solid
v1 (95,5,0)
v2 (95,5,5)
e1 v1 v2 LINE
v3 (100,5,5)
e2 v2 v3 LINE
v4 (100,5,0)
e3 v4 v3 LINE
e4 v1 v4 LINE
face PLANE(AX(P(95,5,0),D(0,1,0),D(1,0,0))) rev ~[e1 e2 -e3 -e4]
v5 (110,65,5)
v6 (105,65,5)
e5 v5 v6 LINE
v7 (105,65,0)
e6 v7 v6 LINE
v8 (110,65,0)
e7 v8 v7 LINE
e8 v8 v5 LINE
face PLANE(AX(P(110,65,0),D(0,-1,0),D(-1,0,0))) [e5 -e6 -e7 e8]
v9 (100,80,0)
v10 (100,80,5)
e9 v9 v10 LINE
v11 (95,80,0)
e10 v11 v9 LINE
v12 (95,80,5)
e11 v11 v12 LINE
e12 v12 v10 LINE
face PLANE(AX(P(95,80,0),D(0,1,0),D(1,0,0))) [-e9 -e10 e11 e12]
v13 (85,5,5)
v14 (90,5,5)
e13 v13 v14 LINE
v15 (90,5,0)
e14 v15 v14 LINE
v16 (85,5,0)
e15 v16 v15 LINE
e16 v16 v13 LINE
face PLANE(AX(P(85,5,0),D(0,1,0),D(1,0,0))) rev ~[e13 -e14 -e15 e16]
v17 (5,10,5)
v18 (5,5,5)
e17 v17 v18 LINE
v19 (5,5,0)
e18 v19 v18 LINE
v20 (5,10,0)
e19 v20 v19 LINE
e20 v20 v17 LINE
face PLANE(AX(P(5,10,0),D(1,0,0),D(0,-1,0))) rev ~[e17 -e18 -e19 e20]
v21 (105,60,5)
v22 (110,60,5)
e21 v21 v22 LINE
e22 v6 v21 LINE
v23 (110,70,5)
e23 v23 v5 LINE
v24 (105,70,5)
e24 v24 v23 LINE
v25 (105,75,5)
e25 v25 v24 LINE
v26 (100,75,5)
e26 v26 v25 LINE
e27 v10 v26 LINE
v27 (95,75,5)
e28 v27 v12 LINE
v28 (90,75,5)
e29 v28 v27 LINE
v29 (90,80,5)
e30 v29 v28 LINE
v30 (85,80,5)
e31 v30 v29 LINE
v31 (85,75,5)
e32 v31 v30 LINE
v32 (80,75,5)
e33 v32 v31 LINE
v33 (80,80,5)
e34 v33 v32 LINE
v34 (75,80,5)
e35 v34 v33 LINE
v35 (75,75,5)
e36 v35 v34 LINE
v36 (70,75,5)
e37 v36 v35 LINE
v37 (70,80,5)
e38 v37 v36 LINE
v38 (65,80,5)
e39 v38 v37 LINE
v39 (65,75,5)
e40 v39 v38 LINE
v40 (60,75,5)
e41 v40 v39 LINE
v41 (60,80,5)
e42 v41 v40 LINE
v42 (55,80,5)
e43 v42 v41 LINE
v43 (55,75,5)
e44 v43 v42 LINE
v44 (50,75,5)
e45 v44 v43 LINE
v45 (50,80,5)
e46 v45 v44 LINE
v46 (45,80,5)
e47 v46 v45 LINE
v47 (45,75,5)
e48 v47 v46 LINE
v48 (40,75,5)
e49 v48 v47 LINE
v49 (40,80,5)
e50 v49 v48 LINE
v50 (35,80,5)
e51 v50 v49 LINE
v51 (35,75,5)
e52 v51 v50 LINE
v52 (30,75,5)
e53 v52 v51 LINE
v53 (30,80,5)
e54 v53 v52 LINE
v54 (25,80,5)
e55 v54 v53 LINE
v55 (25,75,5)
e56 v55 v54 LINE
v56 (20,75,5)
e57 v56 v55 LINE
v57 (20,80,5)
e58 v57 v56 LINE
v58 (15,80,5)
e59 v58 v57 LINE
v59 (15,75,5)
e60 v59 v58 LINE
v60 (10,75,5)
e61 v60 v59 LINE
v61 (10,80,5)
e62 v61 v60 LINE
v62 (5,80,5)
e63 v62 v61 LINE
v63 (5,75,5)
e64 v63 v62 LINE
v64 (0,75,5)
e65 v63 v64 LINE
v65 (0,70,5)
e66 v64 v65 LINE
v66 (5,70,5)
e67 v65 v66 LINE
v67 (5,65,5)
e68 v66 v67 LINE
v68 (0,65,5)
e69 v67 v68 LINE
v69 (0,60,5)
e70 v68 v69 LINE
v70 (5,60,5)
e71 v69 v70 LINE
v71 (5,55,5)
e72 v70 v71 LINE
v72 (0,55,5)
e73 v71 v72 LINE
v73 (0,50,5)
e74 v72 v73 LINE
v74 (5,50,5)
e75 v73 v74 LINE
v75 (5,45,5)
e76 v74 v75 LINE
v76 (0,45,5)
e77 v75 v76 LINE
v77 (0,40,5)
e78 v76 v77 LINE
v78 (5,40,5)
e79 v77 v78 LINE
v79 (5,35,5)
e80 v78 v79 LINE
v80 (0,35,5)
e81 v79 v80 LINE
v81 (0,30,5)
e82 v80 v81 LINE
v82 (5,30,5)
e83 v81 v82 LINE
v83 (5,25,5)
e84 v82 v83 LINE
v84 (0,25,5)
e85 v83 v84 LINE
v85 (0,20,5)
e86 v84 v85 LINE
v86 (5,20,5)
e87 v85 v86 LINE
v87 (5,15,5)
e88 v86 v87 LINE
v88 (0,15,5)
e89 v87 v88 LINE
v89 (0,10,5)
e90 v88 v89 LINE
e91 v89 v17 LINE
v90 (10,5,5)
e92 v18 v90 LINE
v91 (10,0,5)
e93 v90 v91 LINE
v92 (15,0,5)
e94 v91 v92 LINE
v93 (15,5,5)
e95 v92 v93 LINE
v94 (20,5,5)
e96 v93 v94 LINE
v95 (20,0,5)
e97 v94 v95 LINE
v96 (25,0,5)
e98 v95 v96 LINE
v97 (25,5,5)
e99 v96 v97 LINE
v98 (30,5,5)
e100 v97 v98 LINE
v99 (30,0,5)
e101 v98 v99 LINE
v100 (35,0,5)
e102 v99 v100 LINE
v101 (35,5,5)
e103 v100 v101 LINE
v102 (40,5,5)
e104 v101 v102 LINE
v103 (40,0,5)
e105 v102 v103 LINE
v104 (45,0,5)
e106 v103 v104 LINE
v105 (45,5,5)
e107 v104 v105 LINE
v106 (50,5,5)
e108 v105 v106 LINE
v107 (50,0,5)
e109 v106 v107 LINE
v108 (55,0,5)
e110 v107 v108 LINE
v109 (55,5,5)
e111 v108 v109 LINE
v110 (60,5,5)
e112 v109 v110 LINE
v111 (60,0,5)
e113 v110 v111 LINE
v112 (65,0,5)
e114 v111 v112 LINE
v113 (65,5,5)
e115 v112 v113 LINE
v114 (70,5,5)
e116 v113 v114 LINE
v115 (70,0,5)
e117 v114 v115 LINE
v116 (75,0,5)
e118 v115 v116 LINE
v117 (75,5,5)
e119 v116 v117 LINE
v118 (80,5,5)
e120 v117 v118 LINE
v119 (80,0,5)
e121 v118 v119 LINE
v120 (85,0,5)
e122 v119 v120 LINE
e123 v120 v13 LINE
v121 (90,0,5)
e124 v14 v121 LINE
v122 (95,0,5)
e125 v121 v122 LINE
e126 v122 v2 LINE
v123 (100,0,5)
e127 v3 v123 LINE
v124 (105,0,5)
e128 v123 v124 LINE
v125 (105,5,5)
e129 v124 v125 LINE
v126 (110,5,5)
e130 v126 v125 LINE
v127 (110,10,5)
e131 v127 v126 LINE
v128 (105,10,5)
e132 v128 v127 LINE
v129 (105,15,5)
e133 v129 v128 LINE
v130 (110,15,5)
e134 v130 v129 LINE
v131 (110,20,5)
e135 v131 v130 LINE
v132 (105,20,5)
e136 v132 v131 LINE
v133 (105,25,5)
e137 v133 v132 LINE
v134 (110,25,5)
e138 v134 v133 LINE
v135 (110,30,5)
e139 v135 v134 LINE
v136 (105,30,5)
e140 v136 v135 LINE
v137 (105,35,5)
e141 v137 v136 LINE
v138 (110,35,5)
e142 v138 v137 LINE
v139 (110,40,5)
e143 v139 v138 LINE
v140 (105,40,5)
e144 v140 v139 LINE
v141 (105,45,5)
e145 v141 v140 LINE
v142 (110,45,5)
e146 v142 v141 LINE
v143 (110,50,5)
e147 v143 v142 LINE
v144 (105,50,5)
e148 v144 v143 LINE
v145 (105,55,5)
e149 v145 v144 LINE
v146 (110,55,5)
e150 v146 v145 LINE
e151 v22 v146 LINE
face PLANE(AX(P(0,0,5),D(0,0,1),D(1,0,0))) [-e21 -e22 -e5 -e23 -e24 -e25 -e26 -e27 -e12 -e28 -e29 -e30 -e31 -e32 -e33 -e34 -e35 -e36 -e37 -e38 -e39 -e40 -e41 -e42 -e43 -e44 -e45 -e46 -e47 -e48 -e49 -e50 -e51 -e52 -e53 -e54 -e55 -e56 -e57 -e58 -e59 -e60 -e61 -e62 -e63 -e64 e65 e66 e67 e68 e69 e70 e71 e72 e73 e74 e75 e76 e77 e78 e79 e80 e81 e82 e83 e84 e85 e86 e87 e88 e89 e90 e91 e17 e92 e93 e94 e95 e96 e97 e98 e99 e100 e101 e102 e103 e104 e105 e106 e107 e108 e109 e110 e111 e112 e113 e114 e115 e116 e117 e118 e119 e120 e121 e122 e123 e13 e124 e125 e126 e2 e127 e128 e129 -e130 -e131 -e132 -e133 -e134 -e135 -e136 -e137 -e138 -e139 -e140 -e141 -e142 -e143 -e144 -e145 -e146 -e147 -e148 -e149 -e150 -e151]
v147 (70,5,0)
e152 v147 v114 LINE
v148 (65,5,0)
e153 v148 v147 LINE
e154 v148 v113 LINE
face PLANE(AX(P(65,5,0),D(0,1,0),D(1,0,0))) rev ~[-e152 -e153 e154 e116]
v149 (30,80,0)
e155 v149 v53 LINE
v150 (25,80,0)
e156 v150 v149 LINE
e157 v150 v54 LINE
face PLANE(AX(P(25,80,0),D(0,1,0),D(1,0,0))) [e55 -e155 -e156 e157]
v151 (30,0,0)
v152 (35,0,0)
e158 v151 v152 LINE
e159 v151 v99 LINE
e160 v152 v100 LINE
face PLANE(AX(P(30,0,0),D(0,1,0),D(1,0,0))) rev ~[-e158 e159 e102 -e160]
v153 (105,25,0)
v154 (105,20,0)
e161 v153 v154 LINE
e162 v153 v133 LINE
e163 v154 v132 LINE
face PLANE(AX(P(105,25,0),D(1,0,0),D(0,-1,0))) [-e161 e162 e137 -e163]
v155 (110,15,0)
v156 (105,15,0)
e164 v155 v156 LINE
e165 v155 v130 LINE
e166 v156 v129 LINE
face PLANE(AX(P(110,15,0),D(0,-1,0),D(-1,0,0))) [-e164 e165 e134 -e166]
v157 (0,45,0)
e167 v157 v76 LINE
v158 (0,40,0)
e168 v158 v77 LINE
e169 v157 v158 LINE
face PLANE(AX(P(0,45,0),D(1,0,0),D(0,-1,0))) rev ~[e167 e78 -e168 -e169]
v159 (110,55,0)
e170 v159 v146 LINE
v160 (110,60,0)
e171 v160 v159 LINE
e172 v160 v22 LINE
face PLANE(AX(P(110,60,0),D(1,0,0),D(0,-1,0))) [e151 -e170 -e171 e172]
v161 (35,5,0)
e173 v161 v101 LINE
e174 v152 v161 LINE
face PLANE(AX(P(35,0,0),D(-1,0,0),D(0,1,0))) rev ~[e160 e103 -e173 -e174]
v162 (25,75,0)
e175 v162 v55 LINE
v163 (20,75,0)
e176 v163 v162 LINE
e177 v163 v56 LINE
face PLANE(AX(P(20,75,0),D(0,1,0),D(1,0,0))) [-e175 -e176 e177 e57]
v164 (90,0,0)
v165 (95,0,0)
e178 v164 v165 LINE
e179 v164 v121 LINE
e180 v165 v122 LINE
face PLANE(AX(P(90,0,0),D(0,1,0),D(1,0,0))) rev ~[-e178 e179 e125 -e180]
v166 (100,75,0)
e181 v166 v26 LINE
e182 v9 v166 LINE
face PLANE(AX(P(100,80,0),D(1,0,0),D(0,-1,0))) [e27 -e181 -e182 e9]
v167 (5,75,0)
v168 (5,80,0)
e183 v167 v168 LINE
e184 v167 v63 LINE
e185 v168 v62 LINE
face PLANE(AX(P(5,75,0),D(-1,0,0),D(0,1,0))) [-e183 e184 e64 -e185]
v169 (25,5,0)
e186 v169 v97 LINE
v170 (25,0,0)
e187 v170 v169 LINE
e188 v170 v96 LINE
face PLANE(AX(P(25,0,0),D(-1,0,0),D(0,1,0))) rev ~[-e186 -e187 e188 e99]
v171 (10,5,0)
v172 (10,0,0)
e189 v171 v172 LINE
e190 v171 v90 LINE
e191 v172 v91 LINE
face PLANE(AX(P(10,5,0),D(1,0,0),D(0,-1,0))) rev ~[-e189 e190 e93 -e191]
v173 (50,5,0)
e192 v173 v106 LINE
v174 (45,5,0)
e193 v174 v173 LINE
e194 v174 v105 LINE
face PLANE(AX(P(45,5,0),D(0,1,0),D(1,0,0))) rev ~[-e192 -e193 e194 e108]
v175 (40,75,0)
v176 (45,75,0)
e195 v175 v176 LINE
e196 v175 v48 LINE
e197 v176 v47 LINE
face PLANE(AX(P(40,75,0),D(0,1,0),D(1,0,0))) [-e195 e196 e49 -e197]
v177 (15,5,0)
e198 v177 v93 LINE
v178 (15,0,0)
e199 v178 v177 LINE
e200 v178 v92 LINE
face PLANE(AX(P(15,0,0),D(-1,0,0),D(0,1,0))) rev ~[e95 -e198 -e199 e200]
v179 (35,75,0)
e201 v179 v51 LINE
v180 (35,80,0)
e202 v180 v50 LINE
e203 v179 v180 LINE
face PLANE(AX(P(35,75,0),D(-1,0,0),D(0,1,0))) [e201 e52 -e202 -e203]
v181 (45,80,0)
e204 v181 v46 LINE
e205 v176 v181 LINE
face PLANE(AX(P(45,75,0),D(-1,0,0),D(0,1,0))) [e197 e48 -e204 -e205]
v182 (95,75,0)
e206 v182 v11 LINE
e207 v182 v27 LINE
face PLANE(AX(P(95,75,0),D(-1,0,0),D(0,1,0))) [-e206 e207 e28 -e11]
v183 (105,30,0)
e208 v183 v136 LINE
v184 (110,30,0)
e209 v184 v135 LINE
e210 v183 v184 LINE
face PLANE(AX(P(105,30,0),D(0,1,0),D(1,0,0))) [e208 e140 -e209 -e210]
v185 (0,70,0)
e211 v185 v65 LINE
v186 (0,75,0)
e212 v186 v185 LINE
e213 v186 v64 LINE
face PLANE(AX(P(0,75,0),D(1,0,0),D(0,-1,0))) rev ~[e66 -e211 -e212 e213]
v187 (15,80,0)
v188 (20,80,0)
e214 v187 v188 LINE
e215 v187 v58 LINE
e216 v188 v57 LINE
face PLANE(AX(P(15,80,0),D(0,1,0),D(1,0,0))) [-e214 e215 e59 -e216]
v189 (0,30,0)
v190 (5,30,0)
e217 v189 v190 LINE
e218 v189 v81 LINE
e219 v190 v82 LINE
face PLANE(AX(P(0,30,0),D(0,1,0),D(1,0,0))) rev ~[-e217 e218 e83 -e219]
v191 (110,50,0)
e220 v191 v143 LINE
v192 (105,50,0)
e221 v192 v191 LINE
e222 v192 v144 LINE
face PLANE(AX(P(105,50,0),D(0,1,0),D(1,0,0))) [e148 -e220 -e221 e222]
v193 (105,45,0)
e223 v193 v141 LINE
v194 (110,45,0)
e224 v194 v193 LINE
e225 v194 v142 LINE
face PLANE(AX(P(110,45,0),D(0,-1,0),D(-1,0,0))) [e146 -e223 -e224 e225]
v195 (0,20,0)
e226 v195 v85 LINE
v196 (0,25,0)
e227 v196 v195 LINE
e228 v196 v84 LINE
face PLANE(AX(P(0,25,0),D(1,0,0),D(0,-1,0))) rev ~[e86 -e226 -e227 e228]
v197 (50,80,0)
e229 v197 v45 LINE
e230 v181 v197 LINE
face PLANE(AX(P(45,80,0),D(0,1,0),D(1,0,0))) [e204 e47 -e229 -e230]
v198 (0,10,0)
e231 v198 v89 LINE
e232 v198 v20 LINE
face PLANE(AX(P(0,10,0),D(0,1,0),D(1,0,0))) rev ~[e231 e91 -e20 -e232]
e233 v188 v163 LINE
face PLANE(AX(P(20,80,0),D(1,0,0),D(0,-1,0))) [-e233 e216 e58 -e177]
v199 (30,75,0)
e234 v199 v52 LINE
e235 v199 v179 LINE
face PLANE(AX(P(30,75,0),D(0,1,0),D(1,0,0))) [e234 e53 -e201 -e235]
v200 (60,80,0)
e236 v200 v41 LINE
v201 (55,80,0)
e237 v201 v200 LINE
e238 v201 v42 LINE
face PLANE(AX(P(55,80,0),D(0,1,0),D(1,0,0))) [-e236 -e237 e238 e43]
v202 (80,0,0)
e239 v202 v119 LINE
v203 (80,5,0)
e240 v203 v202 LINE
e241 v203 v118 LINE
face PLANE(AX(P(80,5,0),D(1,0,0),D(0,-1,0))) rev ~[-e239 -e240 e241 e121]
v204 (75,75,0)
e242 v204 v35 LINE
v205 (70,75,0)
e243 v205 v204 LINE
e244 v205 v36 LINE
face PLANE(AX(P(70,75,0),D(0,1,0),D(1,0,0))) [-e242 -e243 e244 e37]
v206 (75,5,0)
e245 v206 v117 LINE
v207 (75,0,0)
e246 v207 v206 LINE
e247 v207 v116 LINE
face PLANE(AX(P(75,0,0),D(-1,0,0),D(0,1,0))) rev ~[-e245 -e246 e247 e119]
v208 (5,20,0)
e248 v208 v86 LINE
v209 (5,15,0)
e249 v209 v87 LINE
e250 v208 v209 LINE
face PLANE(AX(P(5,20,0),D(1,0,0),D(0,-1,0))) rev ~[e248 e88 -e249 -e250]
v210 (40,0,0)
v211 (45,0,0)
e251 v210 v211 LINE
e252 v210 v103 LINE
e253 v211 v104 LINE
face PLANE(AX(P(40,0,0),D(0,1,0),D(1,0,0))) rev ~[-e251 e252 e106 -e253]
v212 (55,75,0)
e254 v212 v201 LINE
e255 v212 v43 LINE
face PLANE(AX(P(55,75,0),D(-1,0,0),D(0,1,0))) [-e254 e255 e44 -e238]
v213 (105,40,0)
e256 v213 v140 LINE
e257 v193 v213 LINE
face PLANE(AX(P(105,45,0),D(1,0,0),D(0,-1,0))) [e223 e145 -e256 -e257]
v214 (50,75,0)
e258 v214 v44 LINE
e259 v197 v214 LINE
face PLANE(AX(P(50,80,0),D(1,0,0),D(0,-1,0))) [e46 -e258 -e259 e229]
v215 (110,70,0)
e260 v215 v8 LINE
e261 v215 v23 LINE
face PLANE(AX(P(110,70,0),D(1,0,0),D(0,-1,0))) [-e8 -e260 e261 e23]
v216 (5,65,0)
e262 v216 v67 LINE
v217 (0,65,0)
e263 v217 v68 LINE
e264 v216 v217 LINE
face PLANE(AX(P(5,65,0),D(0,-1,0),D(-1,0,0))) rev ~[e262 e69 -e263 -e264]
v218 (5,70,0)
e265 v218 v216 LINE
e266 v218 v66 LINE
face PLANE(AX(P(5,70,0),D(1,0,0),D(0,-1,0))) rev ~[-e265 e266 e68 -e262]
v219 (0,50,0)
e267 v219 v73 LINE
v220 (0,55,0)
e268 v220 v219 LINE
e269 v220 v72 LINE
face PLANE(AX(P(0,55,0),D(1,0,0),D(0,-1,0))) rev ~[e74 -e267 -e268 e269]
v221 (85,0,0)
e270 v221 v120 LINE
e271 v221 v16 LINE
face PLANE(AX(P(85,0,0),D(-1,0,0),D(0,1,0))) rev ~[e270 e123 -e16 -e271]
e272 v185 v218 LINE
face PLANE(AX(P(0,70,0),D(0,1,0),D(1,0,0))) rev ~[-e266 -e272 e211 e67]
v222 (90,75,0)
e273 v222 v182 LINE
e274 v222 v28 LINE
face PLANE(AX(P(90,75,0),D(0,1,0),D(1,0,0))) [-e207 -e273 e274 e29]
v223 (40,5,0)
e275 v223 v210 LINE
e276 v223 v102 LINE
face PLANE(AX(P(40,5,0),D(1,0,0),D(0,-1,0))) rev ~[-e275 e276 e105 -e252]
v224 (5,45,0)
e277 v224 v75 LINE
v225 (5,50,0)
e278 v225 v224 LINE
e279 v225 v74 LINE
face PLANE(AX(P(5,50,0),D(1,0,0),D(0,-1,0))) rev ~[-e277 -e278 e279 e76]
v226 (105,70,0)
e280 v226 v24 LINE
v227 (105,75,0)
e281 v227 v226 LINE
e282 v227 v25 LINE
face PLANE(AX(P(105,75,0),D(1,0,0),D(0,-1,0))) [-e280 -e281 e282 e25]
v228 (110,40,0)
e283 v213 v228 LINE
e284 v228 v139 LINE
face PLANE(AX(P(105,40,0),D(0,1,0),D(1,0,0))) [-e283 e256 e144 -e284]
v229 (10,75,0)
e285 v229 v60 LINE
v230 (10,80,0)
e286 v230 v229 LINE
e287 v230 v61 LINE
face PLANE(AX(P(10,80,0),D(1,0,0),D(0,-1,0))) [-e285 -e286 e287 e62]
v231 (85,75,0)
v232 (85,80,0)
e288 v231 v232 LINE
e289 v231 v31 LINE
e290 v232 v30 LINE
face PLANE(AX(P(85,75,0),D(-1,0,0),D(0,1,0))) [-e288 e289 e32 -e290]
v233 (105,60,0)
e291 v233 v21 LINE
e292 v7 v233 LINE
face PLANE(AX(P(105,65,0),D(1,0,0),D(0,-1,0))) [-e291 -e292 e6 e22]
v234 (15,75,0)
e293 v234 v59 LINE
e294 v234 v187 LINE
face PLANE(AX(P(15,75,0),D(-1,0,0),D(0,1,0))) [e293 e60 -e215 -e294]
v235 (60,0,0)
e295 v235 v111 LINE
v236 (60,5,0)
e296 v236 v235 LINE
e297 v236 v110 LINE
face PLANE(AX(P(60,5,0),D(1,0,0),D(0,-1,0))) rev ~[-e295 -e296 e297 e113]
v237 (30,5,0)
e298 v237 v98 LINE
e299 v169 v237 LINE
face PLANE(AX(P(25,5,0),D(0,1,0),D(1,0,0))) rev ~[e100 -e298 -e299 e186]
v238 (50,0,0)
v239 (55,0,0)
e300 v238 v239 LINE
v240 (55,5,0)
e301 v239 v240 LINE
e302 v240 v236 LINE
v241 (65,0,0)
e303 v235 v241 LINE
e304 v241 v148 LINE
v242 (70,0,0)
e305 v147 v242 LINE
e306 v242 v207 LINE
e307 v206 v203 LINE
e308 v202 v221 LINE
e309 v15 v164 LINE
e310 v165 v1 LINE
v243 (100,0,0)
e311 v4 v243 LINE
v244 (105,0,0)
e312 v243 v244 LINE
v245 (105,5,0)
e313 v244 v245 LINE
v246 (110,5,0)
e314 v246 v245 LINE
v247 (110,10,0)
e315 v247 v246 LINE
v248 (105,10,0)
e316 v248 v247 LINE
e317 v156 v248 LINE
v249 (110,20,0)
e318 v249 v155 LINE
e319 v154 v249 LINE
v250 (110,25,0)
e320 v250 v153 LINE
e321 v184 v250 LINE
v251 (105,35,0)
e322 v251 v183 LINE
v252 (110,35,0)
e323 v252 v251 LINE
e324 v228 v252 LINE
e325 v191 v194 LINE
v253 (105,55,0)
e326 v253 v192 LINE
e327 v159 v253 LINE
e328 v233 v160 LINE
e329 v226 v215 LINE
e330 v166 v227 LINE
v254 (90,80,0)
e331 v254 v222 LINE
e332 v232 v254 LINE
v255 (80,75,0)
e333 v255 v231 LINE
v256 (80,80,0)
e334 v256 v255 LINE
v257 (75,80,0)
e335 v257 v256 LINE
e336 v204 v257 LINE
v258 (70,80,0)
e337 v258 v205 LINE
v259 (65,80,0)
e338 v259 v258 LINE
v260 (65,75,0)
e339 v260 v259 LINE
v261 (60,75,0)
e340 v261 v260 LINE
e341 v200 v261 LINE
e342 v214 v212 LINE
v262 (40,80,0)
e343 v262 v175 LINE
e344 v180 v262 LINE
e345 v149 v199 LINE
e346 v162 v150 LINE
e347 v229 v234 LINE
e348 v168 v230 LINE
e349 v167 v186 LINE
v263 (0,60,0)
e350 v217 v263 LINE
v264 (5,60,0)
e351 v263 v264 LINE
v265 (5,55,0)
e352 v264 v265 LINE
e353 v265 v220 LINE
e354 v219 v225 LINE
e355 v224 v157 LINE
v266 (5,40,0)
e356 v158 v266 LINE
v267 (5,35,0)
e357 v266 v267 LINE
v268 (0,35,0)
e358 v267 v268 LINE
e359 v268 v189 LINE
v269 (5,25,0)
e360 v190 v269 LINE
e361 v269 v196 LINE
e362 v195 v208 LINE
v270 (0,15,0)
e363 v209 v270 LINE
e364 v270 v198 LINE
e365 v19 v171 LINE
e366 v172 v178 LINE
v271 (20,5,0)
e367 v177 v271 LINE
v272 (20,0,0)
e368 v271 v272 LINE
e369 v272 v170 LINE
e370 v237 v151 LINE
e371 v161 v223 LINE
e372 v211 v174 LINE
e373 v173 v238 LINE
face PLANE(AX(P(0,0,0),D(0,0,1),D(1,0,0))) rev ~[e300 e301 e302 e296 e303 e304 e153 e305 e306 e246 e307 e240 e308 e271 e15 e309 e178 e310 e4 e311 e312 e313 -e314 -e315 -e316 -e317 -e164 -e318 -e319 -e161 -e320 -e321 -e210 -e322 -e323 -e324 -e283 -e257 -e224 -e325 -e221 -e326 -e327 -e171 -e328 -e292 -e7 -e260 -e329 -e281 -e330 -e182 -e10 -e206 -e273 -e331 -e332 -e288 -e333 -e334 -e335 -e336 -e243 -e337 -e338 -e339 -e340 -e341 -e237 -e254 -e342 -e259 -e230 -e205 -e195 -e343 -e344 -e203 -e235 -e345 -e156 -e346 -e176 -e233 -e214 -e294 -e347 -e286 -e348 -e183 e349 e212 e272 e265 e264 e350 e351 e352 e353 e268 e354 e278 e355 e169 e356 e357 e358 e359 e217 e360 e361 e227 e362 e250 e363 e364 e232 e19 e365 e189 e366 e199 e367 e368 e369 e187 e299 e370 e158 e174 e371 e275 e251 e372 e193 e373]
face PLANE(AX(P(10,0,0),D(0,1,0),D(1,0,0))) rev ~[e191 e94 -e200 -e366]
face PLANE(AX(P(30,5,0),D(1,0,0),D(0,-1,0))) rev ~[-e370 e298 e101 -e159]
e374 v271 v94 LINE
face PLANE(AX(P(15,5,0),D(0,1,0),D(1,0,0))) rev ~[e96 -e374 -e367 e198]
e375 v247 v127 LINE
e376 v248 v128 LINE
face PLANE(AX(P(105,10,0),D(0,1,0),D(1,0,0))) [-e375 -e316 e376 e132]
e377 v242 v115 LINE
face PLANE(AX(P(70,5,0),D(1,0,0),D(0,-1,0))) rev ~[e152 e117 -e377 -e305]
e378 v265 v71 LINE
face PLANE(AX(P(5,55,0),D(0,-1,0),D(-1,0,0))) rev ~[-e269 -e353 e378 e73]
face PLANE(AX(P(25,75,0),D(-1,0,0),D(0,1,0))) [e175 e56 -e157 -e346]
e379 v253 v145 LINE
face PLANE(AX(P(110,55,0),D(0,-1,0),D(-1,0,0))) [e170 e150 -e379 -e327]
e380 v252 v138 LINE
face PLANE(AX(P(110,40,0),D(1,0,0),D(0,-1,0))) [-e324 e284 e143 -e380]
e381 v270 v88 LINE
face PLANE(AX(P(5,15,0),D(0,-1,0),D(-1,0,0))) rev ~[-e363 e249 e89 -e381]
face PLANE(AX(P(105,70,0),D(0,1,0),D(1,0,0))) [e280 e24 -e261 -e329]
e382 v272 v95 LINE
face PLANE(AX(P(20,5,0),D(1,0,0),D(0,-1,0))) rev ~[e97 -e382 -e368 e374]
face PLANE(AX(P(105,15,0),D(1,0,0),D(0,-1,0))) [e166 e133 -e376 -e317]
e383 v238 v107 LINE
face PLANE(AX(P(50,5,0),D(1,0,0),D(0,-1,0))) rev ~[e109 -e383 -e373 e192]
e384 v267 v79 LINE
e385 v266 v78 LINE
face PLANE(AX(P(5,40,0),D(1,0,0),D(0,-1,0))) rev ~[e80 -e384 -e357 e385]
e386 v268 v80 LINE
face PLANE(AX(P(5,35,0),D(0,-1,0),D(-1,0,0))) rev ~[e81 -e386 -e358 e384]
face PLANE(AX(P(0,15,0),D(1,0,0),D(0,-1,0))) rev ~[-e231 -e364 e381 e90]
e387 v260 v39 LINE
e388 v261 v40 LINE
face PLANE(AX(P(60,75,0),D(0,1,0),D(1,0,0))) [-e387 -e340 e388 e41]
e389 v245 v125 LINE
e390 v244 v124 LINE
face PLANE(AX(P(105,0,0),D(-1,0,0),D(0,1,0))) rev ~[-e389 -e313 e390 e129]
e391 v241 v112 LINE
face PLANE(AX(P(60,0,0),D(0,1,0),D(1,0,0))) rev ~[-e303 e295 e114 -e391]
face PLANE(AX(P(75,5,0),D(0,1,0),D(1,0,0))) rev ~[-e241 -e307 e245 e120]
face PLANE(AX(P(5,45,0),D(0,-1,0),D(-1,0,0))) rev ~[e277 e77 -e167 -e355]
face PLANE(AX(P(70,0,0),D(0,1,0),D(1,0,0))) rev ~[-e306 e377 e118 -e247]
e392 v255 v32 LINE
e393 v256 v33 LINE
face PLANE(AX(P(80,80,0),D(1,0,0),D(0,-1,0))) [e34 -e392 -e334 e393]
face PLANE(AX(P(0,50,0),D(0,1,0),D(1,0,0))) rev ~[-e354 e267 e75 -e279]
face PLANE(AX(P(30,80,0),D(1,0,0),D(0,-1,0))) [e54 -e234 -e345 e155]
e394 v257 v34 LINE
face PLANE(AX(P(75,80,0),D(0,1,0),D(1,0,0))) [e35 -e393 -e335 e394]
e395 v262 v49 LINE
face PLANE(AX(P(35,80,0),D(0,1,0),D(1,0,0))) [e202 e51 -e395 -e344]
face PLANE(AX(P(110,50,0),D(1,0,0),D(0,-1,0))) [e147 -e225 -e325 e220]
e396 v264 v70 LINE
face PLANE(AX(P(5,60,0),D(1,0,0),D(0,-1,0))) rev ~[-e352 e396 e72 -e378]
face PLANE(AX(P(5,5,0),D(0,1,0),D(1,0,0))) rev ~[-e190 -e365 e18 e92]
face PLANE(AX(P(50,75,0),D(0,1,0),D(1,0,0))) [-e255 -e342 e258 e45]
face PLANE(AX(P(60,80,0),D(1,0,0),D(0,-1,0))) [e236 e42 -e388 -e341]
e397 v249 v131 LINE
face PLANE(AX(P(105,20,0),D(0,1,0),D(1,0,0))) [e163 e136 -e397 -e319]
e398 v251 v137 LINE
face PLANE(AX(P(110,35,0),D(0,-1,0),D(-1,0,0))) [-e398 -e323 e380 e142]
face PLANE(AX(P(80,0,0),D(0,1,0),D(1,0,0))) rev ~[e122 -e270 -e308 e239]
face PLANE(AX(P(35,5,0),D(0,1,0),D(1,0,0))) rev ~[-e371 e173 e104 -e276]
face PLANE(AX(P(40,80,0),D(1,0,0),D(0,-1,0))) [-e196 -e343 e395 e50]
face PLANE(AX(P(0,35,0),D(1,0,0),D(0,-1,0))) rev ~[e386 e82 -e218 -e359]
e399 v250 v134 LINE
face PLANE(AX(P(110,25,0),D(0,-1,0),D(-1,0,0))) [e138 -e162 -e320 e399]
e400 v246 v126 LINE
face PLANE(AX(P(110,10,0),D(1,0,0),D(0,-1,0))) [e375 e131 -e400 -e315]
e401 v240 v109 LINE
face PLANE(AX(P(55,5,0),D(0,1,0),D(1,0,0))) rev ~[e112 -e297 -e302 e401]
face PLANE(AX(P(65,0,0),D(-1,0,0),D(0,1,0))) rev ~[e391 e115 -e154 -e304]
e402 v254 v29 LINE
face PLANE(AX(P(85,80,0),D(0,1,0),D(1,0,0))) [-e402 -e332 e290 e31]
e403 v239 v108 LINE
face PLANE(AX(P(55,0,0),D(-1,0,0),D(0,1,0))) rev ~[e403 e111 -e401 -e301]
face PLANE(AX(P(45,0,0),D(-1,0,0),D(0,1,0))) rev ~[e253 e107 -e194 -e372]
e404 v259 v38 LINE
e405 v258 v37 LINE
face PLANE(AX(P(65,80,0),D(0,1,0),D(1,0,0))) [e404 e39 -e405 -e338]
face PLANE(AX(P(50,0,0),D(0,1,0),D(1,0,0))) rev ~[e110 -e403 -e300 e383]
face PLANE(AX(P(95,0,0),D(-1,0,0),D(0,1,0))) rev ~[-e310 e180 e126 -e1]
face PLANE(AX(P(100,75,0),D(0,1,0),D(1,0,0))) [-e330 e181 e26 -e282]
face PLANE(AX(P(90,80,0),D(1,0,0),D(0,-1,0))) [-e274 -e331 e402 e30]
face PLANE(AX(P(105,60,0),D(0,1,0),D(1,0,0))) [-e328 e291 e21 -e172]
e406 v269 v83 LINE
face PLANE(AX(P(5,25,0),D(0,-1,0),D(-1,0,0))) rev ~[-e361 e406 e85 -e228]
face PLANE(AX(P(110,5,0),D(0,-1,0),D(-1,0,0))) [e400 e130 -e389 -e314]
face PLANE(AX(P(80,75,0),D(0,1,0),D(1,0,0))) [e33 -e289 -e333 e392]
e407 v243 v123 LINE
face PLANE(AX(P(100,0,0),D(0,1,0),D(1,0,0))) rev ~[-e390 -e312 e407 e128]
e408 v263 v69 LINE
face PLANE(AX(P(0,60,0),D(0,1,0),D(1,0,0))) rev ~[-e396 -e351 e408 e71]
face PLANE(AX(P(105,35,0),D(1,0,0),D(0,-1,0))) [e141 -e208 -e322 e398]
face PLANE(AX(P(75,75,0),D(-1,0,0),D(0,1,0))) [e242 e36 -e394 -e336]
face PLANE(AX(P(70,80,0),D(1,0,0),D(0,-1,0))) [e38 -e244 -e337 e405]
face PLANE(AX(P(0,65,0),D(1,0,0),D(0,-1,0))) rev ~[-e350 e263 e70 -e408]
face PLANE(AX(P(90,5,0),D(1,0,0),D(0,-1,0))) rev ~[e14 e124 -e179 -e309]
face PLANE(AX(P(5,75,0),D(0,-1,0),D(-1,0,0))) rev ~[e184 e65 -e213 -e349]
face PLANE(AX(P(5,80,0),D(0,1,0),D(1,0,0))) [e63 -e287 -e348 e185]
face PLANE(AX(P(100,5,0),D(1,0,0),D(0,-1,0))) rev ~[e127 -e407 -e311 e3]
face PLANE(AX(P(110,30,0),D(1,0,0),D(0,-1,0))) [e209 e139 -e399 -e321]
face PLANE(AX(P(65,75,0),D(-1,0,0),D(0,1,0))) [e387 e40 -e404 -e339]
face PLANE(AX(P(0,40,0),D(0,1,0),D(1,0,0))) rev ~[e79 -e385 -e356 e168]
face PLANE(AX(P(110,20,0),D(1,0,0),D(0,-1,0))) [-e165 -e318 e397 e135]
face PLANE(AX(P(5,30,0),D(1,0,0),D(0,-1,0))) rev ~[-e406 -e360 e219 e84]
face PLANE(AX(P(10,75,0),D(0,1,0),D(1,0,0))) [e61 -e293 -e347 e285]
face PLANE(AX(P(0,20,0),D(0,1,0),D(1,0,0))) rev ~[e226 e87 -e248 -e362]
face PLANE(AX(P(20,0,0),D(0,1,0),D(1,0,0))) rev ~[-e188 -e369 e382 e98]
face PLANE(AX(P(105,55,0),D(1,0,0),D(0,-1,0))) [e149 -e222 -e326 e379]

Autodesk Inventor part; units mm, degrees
ref_plane "YZ Plane" through (0, 0, 0) normal (1, 0, 0) x (0, 1, 0)
ref_plane "XZ Plane" through (0, 0, 0) normal (0, 1, 0) x (-1, 0, 0)
ref_plane "XY Plane" through (0, 0, 0) normal (0, 0, 1) x (1, 0, 0)
sketch "Sketch2" plane through (0, 0, 0) normal (0, 0, 1) x (1, 0, 0)
  line L0 (0, 0) -> (5, 0)
  line L1 (5, 0) -> (5, 5)
  line L2 (5, 5) -> (0, 5)
  line L3 (0, 5) -> (0, 0)
  line L4 (5, 5) -> (105, 5)
  line L5 (5, 55) -> (5, 5)
  line L6 (15, 5) -> (10, 5)
  line L7 (10, 0) -> (15, 0)
  line L8 (15, 0) -> (15, 5)
  line L9 (10, 5) -> (10, 0)
  line L10 (25, 5) -> (20, 5)
  line L11 (20, 0) -> (25, 0)
  line L12 (25, 0) -> (25, 5)
  line L13 (20, 5) -> (20, 0)
  line L14 (35, 5) -> (30, 5)
  line L15 (30, 0) -> (35, 0)
  line L16 (35, 0) -> (35, 5)
  line L17 (30, 5) -> (30, 0)
  line L18 (45, 5) -> (40, 5)
  line L19 (40, 0) -> (45, 0)
  line L20 (45, 0) -> (45, 5)
  line L21 (40, 5) -> (40, 0)
  line L22 (55, 5) -> (50, 5)
  line L23 (50, 0) -> (55, 0)
  line L24 (55, 0) -> (55, 5)
  line L25 (50, 5) -> (50, 0)
  line L26 (65, 5) -> (60, 5)
  line L27 (60, 0) -> (65, 0)
  line L28 (65, 0) -> (65, 5)
  line L29 (60, 5) -> (60, 0)
  line L30 (75, 5) -> (70, 5)
  line L31 (70, 0) -> (75, 0)
  line L32 (75, 0) -> (75, 5)
  line L33 (70, 5) -> (70, 0)
  line L34 (85, 5) -> (80, 5)
  line L35 (80, 0) -> (85, 0)
  line L36 (85, 0) -> (85, 5)
  line L37 (80, 5) -> (80, 0)
  line L38 (95, 5) -> (90, 5)
  line L39 (90, 0) -> (95, 0)
  line L40 (95, 0) -> (95, 5)
  line L41 (90, 5) -> (90, 0)
  line L42 (105, 5) -> (100, 5)
  line L43 (100, 0) -> (105, 0)
  line L44 (105, 0) -> (105, 5)
  line L45 (100, 5) -> (100, 0)
  circle A0 centre (12.3298, 65) radius 3.5
  line L46 (6.3298, 40) -> (18.3298, 40)
  line L47 (18.3298, 40) -> (18.3298, 70)
  line L48 (18.3298, 70) -> (6.3298, 70)
  line L49 (6.3298, 70) -> (6.3298, 40)
  line L50 (6.3298, 40) -> (18.3298, 70) construction
  line L51 (18.3298, 40) -> (6.3298, 70) construction
  line L52 (19, 40) -> (31, 40)
  circle A1 centre (25, 65) radius 3.5
  line L53 (19, 70) -> (19, 40)
  line L54 (31, 40) -> (31, 70)
  line L55 (19, 40) -> (31, 70) construction
  line L56 (31, 40) -> (19, 70) construction
  line L57 (31, 70) -> (19, 70)
  line L58 (31.5, 40) -> (43.5, 40)
  circle A2 centre (37.5, 65) radius 3.5
  line L59 (31.5, 70) -> (31.5, 40)
  line L60 (43.5, 40) -> (43.5, 70)
  line L61 (31.5, 40) -> (43.5, 70) construction
  line L62 (43.5, 40) -> (31.5, 70) construction
  line L63 (43.5, 70) -> (31.5, 70)
  line L64 (44.1702, 70) -> (44.1702, 40)
  line L65 (56.1702, 40) -> (56.1702, 70)
  line L66 (56.1702, 40) -> (44.1702, 70) construction
  line L67 (44.1702, 40) -> (56.1702, 70) construction
  line L68 (56.1702, 70) -> (44.1702, 70)
  circle A3 centre (50.1702, 65) radius 3.5
  line L69 (44.1702, 40) -> (56.1702, 40)
  line L70 (57.3642, 39.8119) -> (69.3642, 39.8119)
  line L71 (57.3642, 69.8119) -> (57.3642, 39.8119)
  line L72 (69.3642, 69.8119) -> (57.3642, 69.8119)
  line L73 (57.3642, 39.8119) -> (69.3642, 69.8119) construction
  line L74 (69.3642, 39.8119) -> (57.3642, 69.8119) construction
  line L75 (69.3642, 39.8119) -> (69.3642, 69.8119)
  circle A4 centre (63.3642, 64.8119) radius 3.5
  line L76 (75, 40) -> (100, 40)
  line L77 (100, 40) -> (100, 70)
  line L78 (100, 70) -> (75, 70)
  line L79 (75, 70) -> (75, 40)
  line L80 (75, 40) -> (100, 70) construction
  line L81 (100, 40) -> (75, 70) construction
  line L82 (82.75, 63.25) -> (92.25, 63.25)
  line L83 (92.25, 63.25) -> (92.25, 66.75)
  line L84 (92.25, 66.75) -> (82.75, 66.75)
  line L85 (82.75, 66.75) -> (82.75, 63.25)
  line L86 (82.75, 63.25) -> (92.25, 66.75) construction
  line L87 (92.25, 63.25) -> (82.75, 66.75) construction
  line L88 (5, 75) -> (105, 75)
  line L89 (105, 75) -> (105, 5)
  line L90 (5, 75) -> (5, 55)
  line L91 (105, 80) -> (110, 80)
  line L92 (110, 80) -> (110, 75)
  line L93 (110, 75) -> (105, 75)
  line L94 (105, 75) -> (105, 80)
  line L95 (105, 65) -> (105, 70)
  line L96 (110, 65) -> (105, 65)
  line L97 (110, 70) -> (110, 65)
  line L98 (105, 70) -> (110, 70)
  line L99 (105, 55) -> (105, 60)
  line L100 (110, 55) -> (105, 55)
  line L101 (110, 60) -> (110, 55)
  line L102 (105, 60) -> (110, 60)
  line L103 (105, 45) -> (105, 50)
  line L104 (110, 45) -> (105, 45)
  line L105 (110, 50) -> (110, 45)
  line L106 (105, 50) -> (110, 50)
  line L107 (105, 35) -> (105, 40)
  line L108 (110, 35) -> (105, 35)
  line L109 (110, 40) -> (110, 35)
  line L110 (105, 40) -> (110, 40)
  line L111 (105, 25) -> (105, 30)
  line L112 (110, 25) -> (105, 25)
  line L113 (110, 30) -> (110, 25)
  line L114 (105, 30) -> (110, 30)
  line L115 (105, 15) -> (105, 20)
  line L116 (110, 15) -> (105, 15)
  line L117 (110, 20) -> (110, 15)
  line L118 (105, 20) -> (110, 20)
  line L119 (105, 5) -> (105, 10)
  line L120 (110, 5) -> (105, 5)
  line L121 (110, 10) -> (110, 5)
  line L122 (105, 10) -> (110, 10)
  line L123 (95, 80) -> (100, 80)
  line L124 (100, 80) -> (100, 75)
  line L125 (95, 75) -> (95, 80)
  line L126 (100, 75) -> (95, 75)
  line L127 (85, 80) -> (90, 80)
  line L128 (90, 80) -> (90, 75)
  line L129 (85, 75) -> (85, 80)
  line L130 (90, 75) -> (85, 75)
  line L131 (75, 80) -> (80, 80)
  line L132 (80, 80) -> (80, 75)
  line L133 (75, 75) -> (75, 80)
  line L134 (80, 75) -> (75, 75)
  line L135 (65, 80) -> (70, 80)
  line L136 (70, 80) -> (70, 75)
  line L137 (65, 75) -> (65, 80)
  line L138 (70, 75) -> (65, 75)
  line L139 (55, 80) -> (60, 80)
  line L140 (60, 80) -> (60, 75)
  line L141 (55, 75) -> (55, 80)
  line L142 (60, 75) -> (55, 75)
  line L143 (45, 80) -> (50, 80)
  line L144 (50, 80) -> (50, 75)
  line L145 (45, 75) -> (45, 80)
  line L146 (50, 75) -> (45, 75)
  line L147 (35, 80) -> (40, 80)
  line L148 (40, 80) -> (40, 75)
  line L149 (35, 75) -> (35, 80)
  line L150 (40, 75) -> (35, 75)
  line L151 (25, 80) -> (30, 80)
  line L152 (30, 80) -> (30, 75)
  line L153 (25, 75) -> (25, 80)
  line L154 (30, 75) -> (25, 75)
  line L155 (15, 80) -> (20, 80)
  line L156 (20, 80) -> (20, 75)
  line L157 (15, 75) -> (15, 80)
  line L158 (20, 75) -> (15, 75)
  line L159 (5, 80) -> (10, 80)
  line L160 (10, 80) -> (10, 75)
  line L161 (5, 75) -> (5, 80)
  line L162 (10, 75) -> (5, 75)
  line L163 (0, 10) -> (5, 10)
  line L164 (5, 10) -> (5, 15)
  line L165 (5, 15) -> (0, 15)
  line L166 (0, 15) -> (0, 10)
  line L167 (0, 20) -> (5, 20)
  line L168 (5, 20) -> (5, 25)
  line L169 (5, 25) -> (0, 25)
  line L170 (0, 25) -> (0, 20)
  line L171 (0, 30) -> (5, 30)
  line L172 (5, 30) -> (5, 35)
  line L173 (5, 35) -> (0, 35)
  line L174 (0, 35) -> (0, 30)
  line L175 (0, 40) -> (5, 40)
  line L176 (5, 40) -> (5, 45)
  line L177 (5, 45) -> (0, 45)
  line L178 (0, 45) -> (0, 40)
  line L179 (0, 50) -> (5, 50)
  line L180 (5, 50) -> (5, 55)
  line L181 (5, 55) -> (0, 55)
  line L182 (0, 55) -> (0, 50)
  line L183 (0, 60) -> (5, 60)
  line L184 (5, 60) -> (5, 65)
  line L185 (5, 65) -> (0, 65)
  line L186 (0, 65) -> (0, 60)
  line L187 (0, 70) -> (5, 70)
  line L188 (5, 70) -> (5, 75)
  line L189 (5, 75) -> (0, 75)
  line L190 (0, 75) -> (0, 70)
  line L191 (100, 10) -> (25, 10)
  line L192 (25, 10) -> (25, 35)
  line L193 (25, 35) -> (100, 35)
  line L194 (100, 35) -> (100, 10)
  point P0 (87.5, 55)
  point P1 (87.5, 65)
  dimension "d0" = 5
  dimension "d1" = 5
  dimension "d29" = 10
  dimension "d37" = 7
  dimension "d38" = 12
  dimension "d39" = 30
  dimension "d51" = 7
  dimension "d52" = 12
  dimension "d53" = 30
  dimension "d54" = 7
  dimension "d55" = 12
  dimension "d56" = 30
  dimension "d57" = 7
  dimension "d58" = 12
  dimension "d59" = 30
  dimension "d60" = 7
  dimension "d61" = 12
  dimension "d62" = 30
  dimension "d63" = 25
  dimension "d64" = 30
  dimension "d65" = 9.5
  dimension "d66" = 3.5
  dimension "d71" = 10
  dimension "d78" = 10
  dimension "d85" = 10
extrude "Extrusion2" add sketch "Sketch2" along normal blind 5 contours L5 L90 L88 L89 L4 | L4 L8 L7 L9 | L163 L166 L165 L5 | L4 L12 L11 L13 | L167 L170 L169 L5 | L4 L16 L15 L17 | L171 L174 L173 L5 | L4 L20 L19 L21 | L175 L178 L177 L5 | L4 L24 L23 L25 | L179 L182 L181 L5 | L4 L28 L27 L29 | L183 L186 L185 L90 | L4 L32 L31 L33 | L187 L190 L189 L90 | L161 L159 L160 L88 | L4 L36 L35 L37 | L157 L155 L156 L88 | L4 L40 L39 L41 | L153 L151 L152 L88 | L4 L44 L43 L45 | L89 L122 L121 L120 | L149 L147 L148 L88 | L89 L118 L117 L116 | L145 L143 L144 L88 | L89 L114 L113 L112 | L141 L139 L140 L88 | L89 L110 L109 L108 | L137 L135 L136 L88 | L89 L106 L105 L104 | L133 L131 L132 L88 | L89 L102 L101 L100 | L129 L127 L128 L88 | L89 L98 L97 L96 | L125 L123 L124 L88 | A0 | L49 L48 L47 L46 | L53 L57 L54 L52 | A1 | L59 L63 L60 L58 | A2 | L68 L65 L69 L64 | A3 | L71 L72 L75 L70 | A4 | L79 L78 L77 L76 | L85 L84 L83 L82 | L191 L192 L193 L194
properties part number "backside"
